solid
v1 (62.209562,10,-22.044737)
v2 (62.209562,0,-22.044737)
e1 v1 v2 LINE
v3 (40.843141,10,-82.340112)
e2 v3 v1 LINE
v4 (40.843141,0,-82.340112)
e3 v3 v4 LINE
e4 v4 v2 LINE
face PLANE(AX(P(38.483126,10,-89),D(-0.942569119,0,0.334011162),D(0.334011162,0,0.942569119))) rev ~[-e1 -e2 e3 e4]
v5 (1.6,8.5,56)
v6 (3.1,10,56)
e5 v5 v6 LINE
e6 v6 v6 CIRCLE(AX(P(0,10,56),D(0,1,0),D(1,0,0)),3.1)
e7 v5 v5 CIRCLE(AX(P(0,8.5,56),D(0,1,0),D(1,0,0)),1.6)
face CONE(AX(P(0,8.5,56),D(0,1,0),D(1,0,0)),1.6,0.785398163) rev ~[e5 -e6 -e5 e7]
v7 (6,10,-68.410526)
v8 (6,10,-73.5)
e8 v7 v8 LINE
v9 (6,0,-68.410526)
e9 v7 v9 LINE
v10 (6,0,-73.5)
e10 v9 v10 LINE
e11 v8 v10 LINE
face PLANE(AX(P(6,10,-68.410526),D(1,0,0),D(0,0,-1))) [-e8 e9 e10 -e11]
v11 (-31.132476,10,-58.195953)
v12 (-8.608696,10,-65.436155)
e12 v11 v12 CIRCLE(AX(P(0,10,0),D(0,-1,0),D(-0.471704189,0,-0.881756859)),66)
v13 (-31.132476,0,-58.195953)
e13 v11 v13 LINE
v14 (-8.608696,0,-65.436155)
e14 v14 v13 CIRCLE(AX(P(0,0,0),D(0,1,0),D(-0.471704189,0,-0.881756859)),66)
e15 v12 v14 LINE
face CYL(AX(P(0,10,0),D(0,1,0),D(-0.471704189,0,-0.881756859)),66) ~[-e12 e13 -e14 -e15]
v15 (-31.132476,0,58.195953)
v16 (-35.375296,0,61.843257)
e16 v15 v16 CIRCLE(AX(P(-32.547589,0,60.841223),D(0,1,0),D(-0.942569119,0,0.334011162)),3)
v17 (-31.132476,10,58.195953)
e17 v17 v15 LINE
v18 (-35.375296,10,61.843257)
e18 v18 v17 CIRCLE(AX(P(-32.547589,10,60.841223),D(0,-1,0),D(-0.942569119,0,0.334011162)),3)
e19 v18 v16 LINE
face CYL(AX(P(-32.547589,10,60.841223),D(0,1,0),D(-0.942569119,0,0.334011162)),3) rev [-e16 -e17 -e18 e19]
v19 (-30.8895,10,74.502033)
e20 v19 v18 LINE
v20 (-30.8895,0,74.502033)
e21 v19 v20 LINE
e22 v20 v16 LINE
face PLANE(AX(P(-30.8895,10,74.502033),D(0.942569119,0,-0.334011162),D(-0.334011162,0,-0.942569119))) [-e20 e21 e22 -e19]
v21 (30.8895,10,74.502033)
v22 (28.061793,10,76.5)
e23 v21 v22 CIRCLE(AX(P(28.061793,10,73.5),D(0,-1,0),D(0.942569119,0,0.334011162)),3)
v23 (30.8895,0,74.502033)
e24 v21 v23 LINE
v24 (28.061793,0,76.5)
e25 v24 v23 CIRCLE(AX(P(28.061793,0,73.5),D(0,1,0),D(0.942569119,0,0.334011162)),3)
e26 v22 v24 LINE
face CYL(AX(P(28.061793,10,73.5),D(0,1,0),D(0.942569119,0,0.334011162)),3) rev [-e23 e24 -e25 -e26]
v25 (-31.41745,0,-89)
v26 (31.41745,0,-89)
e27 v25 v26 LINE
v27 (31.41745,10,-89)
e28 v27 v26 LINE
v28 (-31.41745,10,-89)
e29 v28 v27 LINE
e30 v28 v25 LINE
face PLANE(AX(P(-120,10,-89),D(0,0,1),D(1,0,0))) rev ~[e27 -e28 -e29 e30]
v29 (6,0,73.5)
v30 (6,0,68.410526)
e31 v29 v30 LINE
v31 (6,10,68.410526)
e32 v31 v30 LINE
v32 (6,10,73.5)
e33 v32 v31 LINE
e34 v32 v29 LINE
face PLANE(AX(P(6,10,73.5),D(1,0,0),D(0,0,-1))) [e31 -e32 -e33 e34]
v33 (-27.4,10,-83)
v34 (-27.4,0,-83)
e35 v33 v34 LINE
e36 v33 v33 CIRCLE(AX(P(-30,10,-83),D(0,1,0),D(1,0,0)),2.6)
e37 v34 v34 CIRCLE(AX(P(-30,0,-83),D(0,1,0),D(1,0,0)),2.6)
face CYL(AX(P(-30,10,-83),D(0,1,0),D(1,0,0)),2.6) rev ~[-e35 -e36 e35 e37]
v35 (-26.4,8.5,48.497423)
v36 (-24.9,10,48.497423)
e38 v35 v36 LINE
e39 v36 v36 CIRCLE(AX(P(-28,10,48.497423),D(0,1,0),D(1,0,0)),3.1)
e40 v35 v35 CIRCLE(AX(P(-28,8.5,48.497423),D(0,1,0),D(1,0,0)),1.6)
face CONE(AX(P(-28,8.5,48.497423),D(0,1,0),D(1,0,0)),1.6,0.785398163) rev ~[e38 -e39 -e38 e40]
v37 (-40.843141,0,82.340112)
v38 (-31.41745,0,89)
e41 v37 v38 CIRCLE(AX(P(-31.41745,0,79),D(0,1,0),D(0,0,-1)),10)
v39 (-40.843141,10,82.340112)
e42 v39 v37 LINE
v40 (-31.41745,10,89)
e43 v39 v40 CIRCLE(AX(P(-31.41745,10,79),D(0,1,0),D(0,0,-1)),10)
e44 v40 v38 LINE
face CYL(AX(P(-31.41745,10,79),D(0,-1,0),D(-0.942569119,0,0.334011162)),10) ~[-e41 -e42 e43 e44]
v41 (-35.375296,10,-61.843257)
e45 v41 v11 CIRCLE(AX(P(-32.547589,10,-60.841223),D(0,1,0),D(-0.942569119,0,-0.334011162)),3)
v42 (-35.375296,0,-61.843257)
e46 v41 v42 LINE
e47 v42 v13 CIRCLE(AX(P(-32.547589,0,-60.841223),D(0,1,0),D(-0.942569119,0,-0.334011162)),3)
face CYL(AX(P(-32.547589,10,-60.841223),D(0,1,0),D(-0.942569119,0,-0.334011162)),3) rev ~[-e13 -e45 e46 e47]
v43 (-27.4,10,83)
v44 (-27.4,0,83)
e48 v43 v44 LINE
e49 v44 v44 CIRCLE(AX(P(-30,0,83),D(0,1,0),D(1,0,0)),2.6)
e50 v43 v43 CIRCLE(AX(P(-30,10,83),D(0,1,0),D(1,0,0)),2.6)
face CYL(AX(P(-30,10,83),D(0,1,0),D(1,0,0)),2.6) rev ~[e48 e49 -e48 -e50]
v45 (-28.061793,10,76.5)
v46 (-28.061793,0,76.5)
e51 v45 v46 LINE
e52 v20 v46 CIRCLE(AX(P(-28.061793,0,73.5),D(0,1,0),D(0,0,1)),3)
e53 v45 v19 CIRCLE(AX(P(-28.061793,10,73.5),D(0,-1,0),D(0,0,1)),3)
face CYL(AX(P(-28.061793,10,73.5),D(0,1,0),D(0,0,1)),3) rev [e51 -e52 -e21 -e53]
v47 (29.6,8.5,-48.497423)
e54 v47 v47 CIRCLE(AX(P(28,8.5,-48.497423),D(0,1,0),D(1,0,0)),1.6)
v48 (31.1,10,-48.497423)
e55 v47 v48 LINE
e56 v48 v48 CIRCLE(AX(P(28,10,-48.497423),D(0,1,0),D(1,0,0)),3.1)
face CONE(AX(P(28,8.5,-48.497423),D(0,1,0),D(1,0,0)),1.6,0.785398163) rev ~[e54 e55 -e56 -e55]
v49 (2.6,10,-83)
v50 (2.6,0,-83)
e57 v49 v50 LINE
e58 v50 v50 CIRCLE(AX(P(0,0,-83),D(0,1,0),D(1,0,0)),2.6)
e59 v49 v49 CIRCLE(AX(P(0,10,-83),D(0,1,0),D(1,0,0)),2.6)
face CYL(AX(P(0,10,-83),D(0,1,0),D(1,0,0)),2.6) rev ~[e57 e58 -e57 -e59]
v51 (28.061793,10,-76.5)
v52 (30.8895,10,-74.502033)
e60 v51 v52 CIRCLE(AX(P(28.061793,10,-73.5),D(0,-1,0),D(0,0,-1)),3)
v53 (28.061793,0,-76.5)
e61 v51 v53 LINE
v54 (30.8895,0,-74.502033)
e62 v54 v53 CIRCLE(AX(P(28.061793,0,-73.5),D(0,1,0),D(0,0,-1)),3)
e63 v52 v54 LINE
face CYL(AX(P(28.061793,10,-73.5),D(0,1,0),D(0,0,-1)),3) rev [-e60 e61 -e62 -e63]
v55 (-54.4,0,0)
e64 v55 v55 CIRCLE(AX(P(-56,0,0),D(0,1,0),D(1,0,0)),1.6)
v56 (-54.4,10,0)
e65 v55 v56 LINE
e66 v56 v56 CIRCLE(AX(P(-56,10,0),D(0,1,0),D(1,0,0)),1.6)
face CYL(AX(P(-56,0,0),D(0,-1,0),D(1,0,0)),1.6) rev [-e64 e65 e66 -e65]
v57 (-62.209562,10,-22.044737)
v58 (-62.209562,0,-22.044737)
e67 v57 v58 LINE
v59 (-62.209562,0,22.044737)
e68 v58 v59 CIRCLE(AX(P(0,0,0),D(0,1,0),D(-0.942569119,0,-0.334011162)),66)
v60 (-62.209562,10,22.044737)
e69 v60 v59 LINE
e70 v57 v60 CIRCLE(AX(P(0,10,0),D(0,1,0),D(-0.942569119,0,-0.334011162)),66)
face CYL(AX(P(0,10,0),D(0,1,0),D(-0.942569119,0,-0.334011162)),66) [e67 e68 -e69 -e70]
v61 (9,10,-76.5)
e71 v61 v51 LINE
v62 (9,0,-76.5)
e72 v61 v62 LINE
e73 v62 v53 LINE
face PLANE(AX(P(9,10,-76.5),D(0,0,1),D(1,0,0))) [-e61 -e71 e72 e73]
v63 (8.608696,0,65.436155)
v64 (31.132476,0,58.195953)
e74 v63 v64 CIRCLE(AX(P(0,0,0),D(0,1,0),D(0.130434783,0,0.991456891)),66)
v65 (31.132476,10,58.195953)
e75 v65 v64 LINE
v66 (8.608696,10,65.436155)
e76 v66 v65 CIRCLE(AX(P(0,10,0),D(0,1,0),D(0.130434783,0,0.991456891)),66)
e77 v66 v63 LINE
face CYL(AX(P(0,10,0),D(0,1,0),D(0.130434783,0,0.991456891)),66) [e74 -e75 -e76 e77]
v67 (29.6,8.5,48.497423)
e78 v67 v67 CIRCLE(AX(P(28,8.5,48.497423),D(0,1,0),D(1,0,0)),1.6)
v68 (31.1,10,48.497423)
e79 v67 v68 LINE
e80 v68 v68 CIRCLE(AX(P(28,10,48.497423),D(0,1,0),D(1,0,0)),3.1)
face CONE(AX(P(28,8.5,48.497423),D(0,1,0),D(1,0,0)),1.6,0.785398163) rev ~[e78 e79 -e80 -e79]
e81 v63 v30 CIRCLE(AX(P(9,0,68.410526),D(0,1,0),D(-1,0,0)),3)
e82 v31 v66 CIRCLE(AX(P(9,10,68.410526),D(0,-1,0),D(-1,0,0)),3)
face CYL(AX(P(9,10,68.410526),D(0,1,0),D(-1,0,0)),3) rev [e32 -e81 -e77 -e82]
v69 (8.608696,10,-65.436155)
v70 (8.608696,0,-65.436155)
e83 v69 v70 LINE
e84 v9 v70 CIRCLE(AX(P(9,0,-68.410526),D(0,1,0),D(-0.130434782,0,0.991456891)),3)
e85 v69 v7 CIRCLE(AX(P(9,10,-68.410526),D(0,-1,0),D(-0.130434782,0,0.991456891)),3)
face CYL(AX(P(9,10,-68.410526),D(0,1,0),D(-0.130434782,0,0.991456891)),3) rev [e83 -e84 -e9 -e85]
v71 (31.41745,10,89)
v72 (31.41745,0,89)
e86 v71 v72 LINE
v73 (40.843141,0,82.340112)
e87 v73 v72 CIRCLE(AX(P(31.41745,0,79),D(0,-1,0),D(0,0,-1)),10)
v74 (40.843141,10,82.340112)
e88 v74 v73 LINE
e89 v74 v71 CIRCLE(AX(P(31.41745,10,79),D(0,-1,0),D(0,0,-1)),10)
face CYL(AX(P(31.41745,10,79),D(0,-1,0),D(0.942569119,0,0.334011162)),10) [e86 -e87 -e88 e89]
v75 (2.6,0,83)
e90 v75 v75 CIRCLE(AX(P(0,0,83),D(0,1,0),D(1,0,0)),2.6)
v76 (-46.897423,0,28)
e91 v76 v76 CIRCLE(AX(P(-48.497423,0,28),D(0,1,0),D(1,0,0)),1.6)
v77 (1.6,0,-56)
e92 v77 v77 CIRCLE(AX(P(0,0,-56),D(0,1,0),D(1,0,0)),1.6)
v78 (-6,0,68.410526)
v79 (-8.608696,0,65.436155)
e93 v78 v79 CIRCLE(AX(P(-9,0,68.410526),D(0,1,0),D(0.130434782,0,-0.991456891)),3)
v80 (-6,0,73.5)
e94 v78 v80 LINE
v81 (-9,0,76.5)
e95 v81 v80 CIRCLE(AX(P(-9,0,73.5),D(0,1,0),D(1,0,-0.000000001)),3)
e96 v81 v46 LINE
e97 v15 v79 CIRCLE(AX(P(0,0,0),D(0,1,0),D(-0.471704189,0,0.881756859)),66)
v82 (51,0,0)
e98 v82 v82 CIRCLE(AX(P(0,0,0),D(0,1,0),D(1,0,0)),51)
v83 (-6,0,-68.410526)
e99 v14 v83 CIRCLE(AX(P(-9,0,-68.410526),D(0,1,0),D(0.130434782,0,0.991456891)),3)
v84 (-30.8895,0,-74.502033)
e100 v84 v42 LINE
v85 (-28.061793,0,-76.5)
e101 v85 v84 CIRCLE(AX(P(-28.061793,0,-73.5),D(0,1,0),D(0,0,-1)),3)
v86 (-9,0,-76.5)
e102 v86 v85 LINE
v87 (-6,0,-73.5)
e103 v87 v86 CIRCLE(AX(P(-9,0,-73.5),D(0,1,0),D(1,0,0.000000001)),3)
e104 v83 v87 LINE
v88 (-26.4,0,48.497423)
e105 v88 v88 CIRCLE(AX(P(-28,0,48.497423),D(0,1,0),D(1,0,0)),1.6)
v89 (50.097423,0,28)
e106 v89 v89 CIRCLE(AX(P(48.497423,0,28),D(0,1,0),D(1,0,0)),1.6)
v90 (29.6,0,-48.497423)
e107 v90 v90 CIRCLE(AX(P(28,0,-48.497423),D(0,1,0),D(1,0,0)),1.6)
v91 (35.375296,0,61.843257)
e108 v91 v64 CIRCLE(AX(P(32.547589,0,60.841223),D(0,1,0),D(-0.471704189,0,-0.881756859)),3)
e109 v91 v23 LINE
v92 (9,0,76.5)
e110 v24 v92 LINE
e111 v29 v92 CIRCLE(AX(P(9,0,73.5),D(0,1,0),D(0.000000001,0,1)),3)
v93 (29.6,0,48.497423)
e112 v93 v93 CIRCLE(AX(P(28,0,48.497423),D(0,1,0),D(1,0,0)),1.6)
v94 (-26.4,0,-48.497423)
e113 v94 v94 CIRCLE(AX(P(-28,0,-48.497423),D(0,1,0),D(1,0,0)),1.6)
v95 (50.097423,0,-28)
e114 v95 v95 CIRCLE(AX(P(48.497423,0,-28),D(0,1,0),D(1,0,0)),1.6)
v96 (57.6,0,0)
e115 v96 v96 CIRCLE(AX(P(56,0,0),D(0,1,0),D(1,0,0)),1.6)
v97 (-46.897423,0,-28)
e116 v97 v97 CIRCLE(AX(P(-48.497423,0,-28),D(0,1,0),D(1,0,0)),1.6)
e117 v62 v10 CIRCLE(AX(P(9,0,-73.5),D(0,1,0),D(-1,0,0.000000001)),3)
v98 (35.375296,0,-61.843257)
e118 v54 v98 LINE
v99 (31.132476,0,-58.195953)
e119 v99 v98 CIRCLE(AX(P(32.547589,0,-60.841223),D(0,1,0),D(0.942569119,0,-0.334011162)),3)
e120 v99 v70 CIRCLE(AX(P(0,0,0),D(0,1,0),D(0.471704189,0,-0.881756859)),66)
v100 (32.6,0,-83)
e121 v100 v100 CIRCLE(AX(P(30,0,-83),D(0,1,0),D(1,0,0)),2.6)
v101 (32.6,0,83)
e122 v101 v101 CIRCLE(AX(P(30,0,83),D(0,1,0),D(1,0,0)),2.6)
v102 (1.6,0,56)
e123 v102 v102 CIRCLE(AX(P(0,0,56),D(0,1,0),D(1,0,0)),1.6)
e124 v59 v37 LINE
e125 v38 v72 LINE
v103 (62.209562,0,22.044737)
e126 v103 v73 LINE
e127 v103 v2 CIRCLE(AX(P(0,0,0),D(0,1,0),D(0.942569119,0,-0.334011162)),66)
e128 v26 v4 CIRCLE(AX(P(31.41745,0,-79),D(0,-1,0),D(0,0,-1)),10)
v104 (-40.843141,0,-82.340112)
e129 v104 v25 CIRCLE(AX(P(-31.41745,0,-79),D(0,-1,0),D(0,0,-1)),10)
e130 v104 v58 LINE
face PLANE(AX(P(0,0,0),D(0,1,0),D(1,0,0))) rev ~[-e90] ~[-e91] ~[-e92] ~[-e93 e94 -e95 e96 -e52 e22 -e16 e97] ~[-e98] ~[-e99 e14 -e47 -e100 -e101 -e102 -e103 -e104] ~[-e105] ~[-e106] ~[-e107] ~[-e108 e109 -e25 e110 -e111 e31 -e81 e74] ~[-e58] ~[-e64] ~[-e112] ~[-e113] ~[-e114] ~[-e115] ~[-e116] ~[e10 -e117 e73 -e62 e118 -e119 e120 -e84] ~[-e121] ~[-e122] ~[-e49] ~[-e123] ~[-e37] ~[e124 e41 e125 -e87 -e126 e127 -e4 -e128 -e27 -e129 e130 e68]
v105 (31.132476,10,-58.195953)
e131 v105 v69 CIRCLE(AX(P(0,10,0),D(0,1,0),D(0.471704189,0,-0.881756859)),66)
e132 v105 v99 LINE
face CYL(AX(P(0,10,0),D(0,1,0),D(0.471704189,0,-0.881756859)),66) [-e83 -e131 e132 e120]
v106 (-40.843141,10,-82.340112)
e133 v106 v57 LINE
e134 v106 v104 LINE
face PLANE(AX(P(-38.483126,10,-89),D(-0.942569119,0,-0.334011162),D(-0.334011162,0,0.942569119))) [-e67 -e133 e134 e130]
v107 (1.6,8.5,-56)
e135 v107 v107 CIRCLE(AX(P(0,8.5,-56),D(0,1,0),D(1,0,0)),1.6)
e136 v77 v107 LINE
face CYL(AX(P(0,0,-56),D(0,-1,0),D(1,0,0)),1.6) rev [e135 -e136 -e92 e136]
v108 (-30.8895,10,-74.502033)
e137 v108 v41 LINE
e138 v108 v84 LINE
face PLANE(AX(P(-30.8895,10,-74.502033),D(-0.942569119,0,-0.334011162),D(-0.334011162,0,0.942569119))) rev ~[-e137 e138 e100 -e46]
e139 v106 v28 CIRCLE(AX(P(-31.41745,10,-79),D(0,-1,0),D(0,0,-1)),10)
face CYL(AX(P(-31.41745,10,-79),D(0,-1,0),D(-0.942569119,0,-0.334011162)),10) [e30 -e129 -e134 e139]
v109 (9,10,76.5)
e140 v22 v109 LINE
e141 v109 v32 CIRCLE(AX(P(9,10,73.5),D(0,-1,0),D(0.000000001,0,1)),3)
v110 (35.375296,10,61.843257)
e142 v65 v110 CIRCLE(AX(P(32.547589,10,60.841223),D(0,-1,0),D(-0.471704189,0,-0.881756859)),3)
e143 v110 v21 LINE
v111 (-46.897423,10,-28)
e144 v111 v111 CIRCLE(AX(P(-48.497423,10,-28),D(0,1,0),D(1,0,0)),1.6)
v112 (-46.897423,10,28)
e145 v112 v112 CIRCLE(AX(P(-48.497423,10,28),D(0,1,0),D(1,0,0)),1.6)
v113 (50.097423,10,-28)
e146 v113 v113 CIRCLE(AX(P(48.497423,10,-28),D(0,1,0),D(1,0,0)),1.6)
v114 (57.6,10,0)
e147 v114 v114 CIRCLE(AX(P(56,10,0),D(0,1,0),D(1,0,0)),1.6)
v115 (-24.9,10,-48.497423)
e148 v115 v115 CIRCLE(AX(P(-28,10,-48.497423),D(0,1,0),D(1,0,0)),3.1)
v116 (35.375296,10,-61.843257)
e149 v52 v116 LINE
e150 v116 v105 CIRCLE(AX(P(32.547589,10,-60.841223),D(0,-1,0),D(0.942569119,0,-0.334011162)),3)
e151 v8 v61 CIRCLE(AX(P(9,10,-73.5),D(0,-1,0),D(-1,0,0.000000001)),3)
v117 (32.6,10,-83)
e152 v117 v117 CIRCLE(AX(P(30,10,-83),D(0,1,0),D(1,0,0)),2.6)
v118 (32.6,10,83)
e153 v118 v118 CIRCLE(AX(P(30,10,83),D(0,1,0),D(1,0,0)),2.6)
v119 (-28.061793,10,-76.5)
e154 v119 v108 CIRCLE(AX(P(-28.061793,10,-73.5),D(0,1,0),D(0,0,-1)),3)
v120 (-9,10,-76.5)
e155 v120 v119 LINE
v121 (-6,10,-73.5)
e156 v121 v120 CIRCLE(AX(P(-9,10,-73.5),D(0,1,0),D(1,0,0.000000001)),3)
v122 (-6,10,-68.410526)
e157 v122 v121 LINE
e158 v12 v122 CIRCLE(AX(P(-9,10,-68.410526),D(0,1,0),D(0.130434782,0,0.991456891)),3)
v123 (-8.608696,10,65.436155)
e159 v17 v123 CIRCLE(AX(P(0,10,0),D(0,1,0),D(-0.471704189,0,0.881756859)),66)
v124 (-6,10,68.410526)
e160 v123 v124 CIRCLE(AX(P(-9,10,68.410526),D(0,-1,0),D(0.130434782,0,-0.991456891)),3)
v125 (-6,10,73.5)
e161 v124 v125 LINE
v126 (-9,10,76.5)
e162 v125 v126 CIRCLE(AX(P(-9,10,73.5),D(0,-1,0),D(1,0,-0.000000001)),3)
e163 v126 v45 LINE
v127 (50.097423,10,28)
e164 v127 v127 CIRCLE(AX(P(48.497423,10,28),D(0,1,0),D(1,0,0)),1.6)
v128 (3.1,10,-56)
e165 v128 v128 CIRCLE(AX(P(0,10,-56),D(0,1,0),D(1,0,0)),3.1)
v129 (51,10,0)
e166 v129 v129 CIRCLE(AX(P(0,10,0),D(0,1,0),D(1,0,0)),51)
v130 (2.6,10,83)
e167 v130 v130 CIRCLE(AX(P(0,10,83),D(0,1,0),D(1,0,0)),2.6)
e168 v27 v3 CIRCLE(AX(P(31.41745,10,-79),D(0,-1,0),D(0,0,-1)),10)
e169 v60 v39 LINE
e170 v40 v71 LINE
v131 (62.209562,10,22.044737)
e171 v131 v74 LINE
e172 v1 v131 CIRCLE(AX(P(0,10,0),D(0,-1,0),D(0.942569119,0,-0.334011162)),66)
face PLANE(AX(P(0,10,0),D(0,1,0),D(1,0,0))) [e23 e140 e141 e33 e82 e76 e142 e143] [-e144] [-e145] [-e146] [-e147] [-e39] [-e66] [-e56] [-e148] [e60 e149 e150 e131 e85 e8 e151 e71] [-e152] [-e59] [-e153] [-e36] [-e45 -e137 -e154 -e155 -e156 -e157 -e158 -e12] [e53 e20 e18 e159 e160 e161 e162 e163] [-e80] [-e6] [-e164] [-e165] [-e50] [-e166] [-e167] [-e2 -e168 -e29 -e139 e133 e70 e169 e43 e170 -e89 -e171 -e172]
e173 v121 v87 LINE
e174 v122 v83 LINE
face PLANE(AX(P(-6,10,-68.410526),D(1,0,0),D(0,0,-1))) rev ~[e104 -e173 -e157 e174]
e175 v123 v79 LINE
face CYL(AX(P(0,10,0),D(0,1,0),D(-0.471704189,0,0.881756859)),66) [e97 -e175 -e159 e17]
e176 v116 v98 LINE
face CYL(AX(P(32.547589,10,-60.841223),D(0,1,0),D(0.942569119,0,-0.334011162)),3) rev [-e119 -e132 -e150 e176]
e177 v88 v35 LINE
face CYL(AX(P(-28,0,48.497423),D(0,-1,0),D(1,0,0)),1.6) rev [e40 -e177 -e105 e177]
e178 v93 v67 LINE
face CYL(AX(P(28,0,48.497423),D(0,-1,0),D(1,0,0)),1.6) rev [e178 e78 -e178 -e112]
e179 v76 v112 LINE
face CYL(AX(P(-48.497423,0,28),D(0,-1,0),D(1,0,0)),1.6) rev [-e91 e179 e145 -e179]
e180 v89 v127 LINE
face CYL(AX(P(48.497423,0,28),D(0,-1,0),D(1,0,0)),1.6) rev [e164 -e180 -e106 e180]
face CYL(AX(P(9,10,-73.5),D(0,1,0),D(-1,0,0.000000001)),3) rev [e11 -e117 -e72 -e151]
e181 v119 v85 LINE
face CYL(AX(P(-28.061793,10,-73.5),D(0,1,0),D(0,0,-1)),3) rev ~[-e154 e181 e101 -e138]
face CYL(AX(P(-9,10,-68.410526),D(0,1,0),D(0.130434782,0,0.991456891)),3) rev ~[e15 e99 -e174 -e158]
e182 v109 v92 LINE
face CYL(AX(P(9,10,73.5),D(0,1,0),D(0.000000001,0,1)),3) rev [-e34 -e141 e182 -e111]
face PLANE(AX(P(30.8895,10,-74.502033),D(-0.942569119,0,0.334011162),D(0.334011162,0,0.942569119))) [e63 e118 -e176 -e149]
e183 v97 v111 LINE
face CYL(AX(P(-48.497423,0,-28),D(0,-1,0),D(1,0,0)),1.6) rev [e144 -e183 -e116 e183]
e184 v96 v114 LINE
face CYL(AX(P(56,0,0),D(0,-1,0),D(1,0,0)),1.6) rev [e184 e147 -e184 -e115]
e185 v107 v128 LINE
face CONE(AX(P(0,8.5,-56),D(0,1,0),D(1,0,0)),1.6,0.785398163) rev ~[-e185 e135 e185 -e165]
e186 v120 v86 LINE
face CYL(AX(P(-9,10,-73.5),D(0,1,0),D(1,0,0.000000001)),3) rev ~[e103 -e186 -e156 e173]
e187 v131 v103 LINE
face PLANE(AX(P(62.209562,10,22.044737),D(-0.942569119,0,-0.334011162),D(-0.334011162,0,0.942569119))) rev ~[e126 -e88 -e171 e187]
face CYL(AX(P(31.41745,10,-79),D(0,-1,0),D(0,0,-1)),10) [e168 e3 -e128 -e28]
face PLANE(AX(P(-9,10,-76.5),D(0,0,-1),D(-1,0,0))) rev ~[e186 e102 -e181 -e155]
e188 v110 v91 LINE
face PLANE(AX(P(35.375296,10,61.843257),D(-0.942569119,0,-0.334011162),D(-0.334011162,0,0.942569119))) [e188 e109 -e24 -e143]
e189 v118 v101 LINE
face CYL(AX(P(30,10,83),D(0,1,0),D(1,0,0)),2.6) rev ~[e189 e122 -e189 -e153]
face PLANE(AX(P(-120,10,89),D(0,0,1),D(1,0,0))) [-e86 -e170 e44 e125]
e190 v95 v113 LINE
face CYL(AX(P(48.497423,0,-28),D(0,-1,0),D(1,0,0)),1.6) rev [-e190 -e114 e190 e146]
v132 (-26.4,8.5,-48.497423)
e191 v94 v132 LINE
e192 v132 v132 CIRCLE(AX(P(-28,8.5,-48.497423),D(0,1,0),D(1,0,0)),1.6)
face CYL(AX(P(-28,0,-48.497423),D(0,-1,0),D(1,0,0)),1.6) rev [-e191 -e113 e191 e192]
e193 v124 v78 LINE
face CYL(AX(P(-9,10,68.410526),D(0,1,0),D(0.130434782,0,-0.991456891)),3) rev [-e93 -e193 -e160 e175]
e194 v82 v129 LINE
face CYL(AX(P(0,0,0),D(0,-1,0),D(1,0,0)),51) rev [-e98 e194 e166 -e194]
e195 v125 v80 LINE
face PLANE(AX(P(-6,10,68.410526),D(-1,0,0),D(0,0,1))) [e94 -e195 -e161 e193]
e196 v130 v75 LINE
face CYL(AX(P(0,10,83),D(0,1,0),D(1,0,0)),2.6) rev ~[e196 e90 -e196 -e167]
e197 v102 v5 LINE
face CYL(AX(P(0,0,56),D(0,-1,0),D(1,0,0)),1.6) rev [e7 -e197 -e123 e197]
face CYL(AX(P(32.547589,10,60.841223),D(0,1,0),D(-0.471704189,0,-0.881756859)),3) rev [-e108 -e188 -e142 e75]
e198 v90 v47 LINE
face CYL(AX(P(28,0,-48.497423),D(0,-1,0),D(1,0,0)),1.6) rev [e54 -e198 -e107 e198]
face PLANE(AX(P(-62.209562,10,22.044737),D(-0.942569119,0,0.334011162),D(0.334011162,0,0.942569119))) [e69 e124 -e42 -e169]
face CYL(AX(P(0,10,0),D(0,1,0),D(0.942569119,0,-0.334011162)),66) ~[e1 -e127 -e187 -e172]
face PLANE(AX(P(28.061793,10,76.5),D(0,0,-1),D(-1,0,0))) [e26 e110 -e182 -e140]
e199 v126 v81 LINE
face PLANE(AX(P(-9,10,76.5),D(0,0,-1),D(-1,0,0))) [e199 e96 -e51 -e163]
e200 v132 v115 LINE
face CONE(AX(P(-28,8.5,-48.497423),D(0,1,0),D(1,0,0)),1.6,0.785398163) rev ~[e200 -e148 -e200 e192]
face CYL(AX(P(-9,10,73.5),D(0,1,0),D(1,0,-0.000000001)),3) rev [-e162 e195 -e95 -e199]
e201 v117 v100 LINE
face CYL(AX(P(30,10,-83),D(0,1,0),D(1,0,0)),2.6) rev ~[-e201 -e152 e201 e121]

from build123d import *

# Parameters (mm, degrees)
SKETCH_1_W          = 240
SKETCH_1_H          = 180
SKETCH_1_R          = 51
SKETCH_1_R_2        = 1.6
SKETCH_1_R_3        = 2.1
SKETCH_1_R_4        = 1.25
EXTRUDE_1_DEPTH     = 10
CUT_EXTRUDE_1_DEPTH = 11
SKETCH_3_R          = 2.6
SKETCH_3_W          = 240
SKETCH_3_H          = 1
CUT_EXTRUDE_2_DEPTH = 11
CUT_EXTRUDE_3_DEPTH = 11
FILLET_1_R          = 10
CUT_EXTRUDE_4_DEPTH = 11
CHAMFER_1_SIZE      = 1.5


with BuildPart() as part:
    # 草图1 → 凸台-拉伸1 (new body)
    with BuildSketch(Plane(origin=(0, 0, 0), x_dir=(1, 0, 0), z_dir=(0, 1, 0))):
        Rectangle(SKETCH_1_W, SKETCH_1_H)
        Circle(SKETCH_1_R, mode=Mode.SUBTRACT)
        with Locations((0, 56)):
            Circle(SKETCH_1_R_2, mode=Mode.SUBTRACT)
        with Locations((28, 48.497422612)):
            Circle(SKETCH_1_R_2, mode=Mode.SUBTRACT)
        with Locations((48.497422612, 28)):
            Circle(SKETCH_1_R_2, mode=Mode.SUBTRACT)
        with Locations((56, 0)):
            Circle(SKETCH_1_R_2, mode=Mode.SUBTRACT)
        with Locations((48.497422612, -28)):
            Circle(SKETCH_1_R_2, mode=Mode.SUBTRACT)
        with Locations((28, -48.497422612)):
            Circle(SKETCH_1_R_2, mode=Mode.SUBTRACT)
        with Locations((0, -56)):
            Circle(SKETCH_1_R_2, mode=Mode.SUBTRACT)
        with Locations((-28, -48.497422612)):
            Circle(SKETCH_1_R_2, mode=Mode.SUBTRACT)
        with Locations((-48.497422612, -28)):
            Circle(SKETCH_1_R_2, mode=Mode.SUBTRACT)
        with Locations((-56, 0)):
            Circle(SKETCH_1_R_2, mode=Mode.SUBTRACT)
        with Locations((-48.497422612, 28)):
            Circle(SKETCH_1_R_2, mode=Mode.SUBTRACT)
        with Locations((-28, 48.497422612)):
            Circle(SKETCH_1_R_2, mode=Mode.SUBTRACT)
        with Locations((-70, 85)):
            Circle(SKETCH_1_R_3, mode=Mode.SUBTRACT)
        with Locations((-50, 85)):
            Circle(SKETCH_1_R_3, mode=Mode.SUBTRACT)
        with Locations((-70, 65)):
            Circle(SKETCH_1_R_3, mode=Mode.SUBTRACT)
        with Locations((-50, 65)):
            Circle(SKETCH_1_R_3, mode=Mode.SUBTRACT)
        with Locations((50, 85)):
            Circle(SKETCH_1_R_3, mode=Mode.SUBTRACT)
        with Locations((50, 65)):
            Circle(SKETCH_1_R_3, mode=Mode.SUBTRACT)
        with Locations((70, 65)):
            Circle(SKETCH_1_R_3, mode=Mode.SUBTRACT)
        with Locations((70, 85)):
            Circle(SKETCH_1_R_3, mode=Mode.SUBTRACT)
        with Locations((70, -85)):
            Circle(SKETCH_1_R_3, mode=Mode.SUBTRACT)
        with Locations((70, -65)):
            Circle(SKETCH_1_R_3, mode=Mode.SUBTRACT)
        with Locations((50, -65)):
            Circle(SKETCH_1_R_3, mode=Mode.SUBTRACT)
        with Locations((50, -85)):
            Circle(SKETCH_1_R_3, mode=Mode.SUBTRACT)
        with Locations((-50, -65)):
            Circle(SKETCH_1_R_3, mode=Mode.SUBTRACT)
        with Locations((-70, -65)):
            Circle(SKETCH_1_R_3, mode=Mode.SUBTRACT)
        with Locations((-50, -85)):
            Circle(SKETCH_1_R_3, mode=Mode.SUBTRACT)
        with Locations((-70, -85)):
            Circle(SKETCH_1_R_3, mode=Mode.SUBTRACT)
        with Locations((112, 10)):
            Circle(SKETCH_1_R_4, mode=Mode.SUBTRACT)
        with Locations((112, 30)):
            Circle(SKETCH_1_R_4, mode=Mode.SUBTRACT)
        with Locations((112, -30)):
            Circle(SKETCH_1_R_4, mode=Mode.SUBTRACT)
        with Locations((112, -10)):
            Circle(SKETCH_1_R_4, mode=Mode.SUBTRACT)
        with Locations((-112, -30)):
            Circle(SKETCH_1_R_4, mode=Mode.SUBTRACT)
        with Locations((-112, -10)):
            Circle(SKETCH_1_R_4, mode=Mode.SUBTRACT)
        with Locations((-112, 30)):
            Circle(SKETCH_1_R_4, mode=Mode.SUBTRACT)
        with Locations((-112, 10)):
            Circle(SKETCH_1_R_4, mode=Mode.SUBTRACT)
    extrude(amount=EXTRUDE_1_DEPTH)

    # 草图2 → 切除-拉伸1 (cut, through all)
    with BuildSketch(Plane(origin=(0, 10, 0), x_dir=(1, 0, 0), z_dir=(0, 1, 0))):
        Polygon((-120, 57.5), (-110, 47.5), (-110, -47.5), (-120, -57.5), align=None)
        Polygon((110, -47.5), (120, -57.5), (120, 57.5), (110, 47.5), align=None)
    extrude(amount=-CUT_EXTRUDE_1_DEPTH, mode=Mode.SUBTRACT)

    # 草图3 → 切除-拉伸2 (cut, through all)
    with BuildSketch(Plane(origin=(0, 10, 0), x_dir=(1, 0, 0), z_dir=(0, 1, 0))):
        with Locations((-30, 83)):
            Circle(SKETCH_3_R)
        with Locations((0, 83)):
            Circle(SKETCH_3_R)
        with Locations((30, 83)):
            Circle(SKETCH_3_R)
        with Locations((30, -83)):
            Circle(SKETCH_3_R)
        with Locations((0, -83)):
            Circle(SKETCH_3_R)
        with Locations((-30, -83)):
            Circle(SKETCH_3_R)
        with Locations((0, 89.5)):
            Rectangle(SKETCH_3_W, SKETCH_3_H)
        with Locations((0, -89.5)):
            Rectangle(SKETCH_3_W, SKETCH_3_H)
    extrude(amount=-CUT_EXTRUDE_2_DEPTH, mode=Mode.SUBTRACT)

    # 草图4 → 切除-拉伸3 (cut, through all)
    with BuildSketch(Plane(origin=(0, 10, 0), x_dir=(1, 0, 0), z_dir=(0, 1, 0))):
        with BuildLine():
            Line((-38.483126456, 89), (-62.209561842, 22.044736684))
            ThreePointArc((-62.209561842, 22.044736684), (-66, 0), (-62.209561842, -22.044736684))
            Line((-62.209561842, -22.044736684), (-38.483126456, -89))
            Line((-38.483126456, -89), (-120, -89))
            Line((-120, -89), (-120, 89))
            Line((-120, 89), (-38.483126456, 89))
        make_face()
        with BuildLine():
            Line((120, -89), (120, 89))
            Line((120, 89), (38.483126456, 89))
            Line((38.483126456, 89), (62.209561842, 22.044736684))
            ThreePointArc((62.209561842, 22.044736684), (66, 0), (62.209561842, -22.044736684))
            Line((62.209561842, -22.044736684), (38.483126456, -89))
            Line((38.483126456, -89), (120, -89))
        make_face()
    extrude(amount=-CUT_EXTRUDE_3_DEPTH, mode=Mode.SUBTRACT)

    # 圆角1
    fillet_1_edges = [part.edges().sort_by_distance(p)[0] for p in [
        (-38.483126456, 5, -89),
        (-38.483126456, 5, 89),
        (38.483126456, 5, 89),
        (38.483126456, 5, -89),
    ]]
    fillet(fillet_1_edges, radius=FILLET_1_R)

    # 草图7 → 切除-拉伸4 (cut, through all)
    with BuildSketch(Plane(origin=(0, 10, 0), x_dir=(1, 0, 0), z_dir=(0, 1, 0))):
        with BuildLine():
            Line((-9, 76.5), (-28.061793108, 76.5))
            ThreePointArc((-28.061793108, 76.5), (-29.792963167, 75.950112289), (-30.889500465, 74.502033486))
            Line((-30.889500465, 74.502033486), (-35.375296407, 61.843256739))
            ThreePointArc((-35.375296407, 61.843256739), (-34.503237981, 58.566264515), (-31.132476483, 58.195952677))
            ThreePointArc((-31.132476483, 58.195952677), (-20.197656361, 62.833547389), (-8.608695652, 65.436154832))
            ThreePointArc((-8.608695652, 65.436154832), (-6.744571765, 66.432384086), (-6, 68.410525506))
            Line((-6, 68.410525506), (-6, 73.5))
            ThreePointArc((-6, 73.5), (-6.878679656, 75.621320344), (-9, 76.5))
        make_face()
        with BuildLine():
            Line((9, 76.5), (28.061793108, 76.5))
            ThreePointArc((28.061793108, 76.5), (29.792963167, 75.950112289), (30.889500465, 74.502033486))
            Line((30.889500465, 74.502033486), (35.375296407, 61.843256739))
            ThreePointArc((35.375296407, 61.843256739), (34.503237981, 58.566264515), (31.132476483, 58.195952677))
            ThreePointArc((31.132476483, 58.195952677), (20.197656361, 62.833547389), (8.608695652, 65.436154832))
            ThreePointArc((8.608695652, 65.436154832), (6.744571765, 66.432384086), (6, 68.410525506))
            Line((6, 68.410525506), (6, 73.5))
            ThreePointArc((6, 73.5), (6.878679656, 75.621320344), (9, 76.5))
        make_face()
        with BuildLine():
            Line((6, -73.5), (6, -68.410525506))
            ThreePointArc((6, -68.410525506), (6.744571765, -66.432384086), (8.608695652, -65.436154832))
            ThreePointArc((8.608695652, -65.436154832), (20.197656361, -62.833547389), (31.132476483, -58.195952677))
            ThreePointArc((31.132476483, -58.195952677), (34.503237981, -58.566264515), (35.375296407, -61.843256739))
            Line((35.375296407, -61.843256739), (30.889500465, -74.502033486))
            ThreePointArc((30.889500465, -74.502033486), (29.792963167, -75.950112289), (28.061793108, -76.5))
            Line((28.061793108, -76.5), (9, -76.5))
            ThreePointArc((9, -76.5), (6.878679656, -75.621320344), (6, -73.5))
        make_face()
        with BuildLine():
            Line((-9, -76.5), (-28.061793108, -76.5))
            ThreePointArc((-28.061793108, -76.5), (-29.792963167, -75.950112289), (-30.889500465, -74.502033486))
            Line((-30.889500465, -74.502033486), (-35.375296407, -61.843256739))
            ThreePointArc((-35.375296407, -61.843256739), (-34.503237981, -58.566264515), (-31.132476483, -58.195952677))
            ThreePointArc((-31.132476483, -58.195952677), (-20.197656361, -62.833547389), (-8.608695652, -65.436154832))
            ThreePointArc((-8.608695652, -65.436154832), (-6.744571765, -66.432384086), (-6, -68.410525506))
            Line((-6, -68.410525506), (-6, -73.5))
            ThreePointArc((-6, -73.5), (-6.878679656, -75.621320344), (-9, -76.5))
        make_face()
    extrude(amount=-CUT_EXTRUDE_4_DEPTH, mode=Mode.SUBTRACT)

    # 倒角1
    chamfer_1_edges = [part.edges().sort_by_distance(p)[0] for p in [
        (-1.6, 10, -56),
        (26.4, 10, -48.497422612),
        (26.4, 10, 48.497422612),
        (-1.6, 10, 56),
        (-29.6, 10, 48.497422612),
        (-29.6, 10, -48.497422612),
    ]]
    chamfer(chamfer_1_edges, length=CHAMFER_1_SIZE)


solid = part.part
